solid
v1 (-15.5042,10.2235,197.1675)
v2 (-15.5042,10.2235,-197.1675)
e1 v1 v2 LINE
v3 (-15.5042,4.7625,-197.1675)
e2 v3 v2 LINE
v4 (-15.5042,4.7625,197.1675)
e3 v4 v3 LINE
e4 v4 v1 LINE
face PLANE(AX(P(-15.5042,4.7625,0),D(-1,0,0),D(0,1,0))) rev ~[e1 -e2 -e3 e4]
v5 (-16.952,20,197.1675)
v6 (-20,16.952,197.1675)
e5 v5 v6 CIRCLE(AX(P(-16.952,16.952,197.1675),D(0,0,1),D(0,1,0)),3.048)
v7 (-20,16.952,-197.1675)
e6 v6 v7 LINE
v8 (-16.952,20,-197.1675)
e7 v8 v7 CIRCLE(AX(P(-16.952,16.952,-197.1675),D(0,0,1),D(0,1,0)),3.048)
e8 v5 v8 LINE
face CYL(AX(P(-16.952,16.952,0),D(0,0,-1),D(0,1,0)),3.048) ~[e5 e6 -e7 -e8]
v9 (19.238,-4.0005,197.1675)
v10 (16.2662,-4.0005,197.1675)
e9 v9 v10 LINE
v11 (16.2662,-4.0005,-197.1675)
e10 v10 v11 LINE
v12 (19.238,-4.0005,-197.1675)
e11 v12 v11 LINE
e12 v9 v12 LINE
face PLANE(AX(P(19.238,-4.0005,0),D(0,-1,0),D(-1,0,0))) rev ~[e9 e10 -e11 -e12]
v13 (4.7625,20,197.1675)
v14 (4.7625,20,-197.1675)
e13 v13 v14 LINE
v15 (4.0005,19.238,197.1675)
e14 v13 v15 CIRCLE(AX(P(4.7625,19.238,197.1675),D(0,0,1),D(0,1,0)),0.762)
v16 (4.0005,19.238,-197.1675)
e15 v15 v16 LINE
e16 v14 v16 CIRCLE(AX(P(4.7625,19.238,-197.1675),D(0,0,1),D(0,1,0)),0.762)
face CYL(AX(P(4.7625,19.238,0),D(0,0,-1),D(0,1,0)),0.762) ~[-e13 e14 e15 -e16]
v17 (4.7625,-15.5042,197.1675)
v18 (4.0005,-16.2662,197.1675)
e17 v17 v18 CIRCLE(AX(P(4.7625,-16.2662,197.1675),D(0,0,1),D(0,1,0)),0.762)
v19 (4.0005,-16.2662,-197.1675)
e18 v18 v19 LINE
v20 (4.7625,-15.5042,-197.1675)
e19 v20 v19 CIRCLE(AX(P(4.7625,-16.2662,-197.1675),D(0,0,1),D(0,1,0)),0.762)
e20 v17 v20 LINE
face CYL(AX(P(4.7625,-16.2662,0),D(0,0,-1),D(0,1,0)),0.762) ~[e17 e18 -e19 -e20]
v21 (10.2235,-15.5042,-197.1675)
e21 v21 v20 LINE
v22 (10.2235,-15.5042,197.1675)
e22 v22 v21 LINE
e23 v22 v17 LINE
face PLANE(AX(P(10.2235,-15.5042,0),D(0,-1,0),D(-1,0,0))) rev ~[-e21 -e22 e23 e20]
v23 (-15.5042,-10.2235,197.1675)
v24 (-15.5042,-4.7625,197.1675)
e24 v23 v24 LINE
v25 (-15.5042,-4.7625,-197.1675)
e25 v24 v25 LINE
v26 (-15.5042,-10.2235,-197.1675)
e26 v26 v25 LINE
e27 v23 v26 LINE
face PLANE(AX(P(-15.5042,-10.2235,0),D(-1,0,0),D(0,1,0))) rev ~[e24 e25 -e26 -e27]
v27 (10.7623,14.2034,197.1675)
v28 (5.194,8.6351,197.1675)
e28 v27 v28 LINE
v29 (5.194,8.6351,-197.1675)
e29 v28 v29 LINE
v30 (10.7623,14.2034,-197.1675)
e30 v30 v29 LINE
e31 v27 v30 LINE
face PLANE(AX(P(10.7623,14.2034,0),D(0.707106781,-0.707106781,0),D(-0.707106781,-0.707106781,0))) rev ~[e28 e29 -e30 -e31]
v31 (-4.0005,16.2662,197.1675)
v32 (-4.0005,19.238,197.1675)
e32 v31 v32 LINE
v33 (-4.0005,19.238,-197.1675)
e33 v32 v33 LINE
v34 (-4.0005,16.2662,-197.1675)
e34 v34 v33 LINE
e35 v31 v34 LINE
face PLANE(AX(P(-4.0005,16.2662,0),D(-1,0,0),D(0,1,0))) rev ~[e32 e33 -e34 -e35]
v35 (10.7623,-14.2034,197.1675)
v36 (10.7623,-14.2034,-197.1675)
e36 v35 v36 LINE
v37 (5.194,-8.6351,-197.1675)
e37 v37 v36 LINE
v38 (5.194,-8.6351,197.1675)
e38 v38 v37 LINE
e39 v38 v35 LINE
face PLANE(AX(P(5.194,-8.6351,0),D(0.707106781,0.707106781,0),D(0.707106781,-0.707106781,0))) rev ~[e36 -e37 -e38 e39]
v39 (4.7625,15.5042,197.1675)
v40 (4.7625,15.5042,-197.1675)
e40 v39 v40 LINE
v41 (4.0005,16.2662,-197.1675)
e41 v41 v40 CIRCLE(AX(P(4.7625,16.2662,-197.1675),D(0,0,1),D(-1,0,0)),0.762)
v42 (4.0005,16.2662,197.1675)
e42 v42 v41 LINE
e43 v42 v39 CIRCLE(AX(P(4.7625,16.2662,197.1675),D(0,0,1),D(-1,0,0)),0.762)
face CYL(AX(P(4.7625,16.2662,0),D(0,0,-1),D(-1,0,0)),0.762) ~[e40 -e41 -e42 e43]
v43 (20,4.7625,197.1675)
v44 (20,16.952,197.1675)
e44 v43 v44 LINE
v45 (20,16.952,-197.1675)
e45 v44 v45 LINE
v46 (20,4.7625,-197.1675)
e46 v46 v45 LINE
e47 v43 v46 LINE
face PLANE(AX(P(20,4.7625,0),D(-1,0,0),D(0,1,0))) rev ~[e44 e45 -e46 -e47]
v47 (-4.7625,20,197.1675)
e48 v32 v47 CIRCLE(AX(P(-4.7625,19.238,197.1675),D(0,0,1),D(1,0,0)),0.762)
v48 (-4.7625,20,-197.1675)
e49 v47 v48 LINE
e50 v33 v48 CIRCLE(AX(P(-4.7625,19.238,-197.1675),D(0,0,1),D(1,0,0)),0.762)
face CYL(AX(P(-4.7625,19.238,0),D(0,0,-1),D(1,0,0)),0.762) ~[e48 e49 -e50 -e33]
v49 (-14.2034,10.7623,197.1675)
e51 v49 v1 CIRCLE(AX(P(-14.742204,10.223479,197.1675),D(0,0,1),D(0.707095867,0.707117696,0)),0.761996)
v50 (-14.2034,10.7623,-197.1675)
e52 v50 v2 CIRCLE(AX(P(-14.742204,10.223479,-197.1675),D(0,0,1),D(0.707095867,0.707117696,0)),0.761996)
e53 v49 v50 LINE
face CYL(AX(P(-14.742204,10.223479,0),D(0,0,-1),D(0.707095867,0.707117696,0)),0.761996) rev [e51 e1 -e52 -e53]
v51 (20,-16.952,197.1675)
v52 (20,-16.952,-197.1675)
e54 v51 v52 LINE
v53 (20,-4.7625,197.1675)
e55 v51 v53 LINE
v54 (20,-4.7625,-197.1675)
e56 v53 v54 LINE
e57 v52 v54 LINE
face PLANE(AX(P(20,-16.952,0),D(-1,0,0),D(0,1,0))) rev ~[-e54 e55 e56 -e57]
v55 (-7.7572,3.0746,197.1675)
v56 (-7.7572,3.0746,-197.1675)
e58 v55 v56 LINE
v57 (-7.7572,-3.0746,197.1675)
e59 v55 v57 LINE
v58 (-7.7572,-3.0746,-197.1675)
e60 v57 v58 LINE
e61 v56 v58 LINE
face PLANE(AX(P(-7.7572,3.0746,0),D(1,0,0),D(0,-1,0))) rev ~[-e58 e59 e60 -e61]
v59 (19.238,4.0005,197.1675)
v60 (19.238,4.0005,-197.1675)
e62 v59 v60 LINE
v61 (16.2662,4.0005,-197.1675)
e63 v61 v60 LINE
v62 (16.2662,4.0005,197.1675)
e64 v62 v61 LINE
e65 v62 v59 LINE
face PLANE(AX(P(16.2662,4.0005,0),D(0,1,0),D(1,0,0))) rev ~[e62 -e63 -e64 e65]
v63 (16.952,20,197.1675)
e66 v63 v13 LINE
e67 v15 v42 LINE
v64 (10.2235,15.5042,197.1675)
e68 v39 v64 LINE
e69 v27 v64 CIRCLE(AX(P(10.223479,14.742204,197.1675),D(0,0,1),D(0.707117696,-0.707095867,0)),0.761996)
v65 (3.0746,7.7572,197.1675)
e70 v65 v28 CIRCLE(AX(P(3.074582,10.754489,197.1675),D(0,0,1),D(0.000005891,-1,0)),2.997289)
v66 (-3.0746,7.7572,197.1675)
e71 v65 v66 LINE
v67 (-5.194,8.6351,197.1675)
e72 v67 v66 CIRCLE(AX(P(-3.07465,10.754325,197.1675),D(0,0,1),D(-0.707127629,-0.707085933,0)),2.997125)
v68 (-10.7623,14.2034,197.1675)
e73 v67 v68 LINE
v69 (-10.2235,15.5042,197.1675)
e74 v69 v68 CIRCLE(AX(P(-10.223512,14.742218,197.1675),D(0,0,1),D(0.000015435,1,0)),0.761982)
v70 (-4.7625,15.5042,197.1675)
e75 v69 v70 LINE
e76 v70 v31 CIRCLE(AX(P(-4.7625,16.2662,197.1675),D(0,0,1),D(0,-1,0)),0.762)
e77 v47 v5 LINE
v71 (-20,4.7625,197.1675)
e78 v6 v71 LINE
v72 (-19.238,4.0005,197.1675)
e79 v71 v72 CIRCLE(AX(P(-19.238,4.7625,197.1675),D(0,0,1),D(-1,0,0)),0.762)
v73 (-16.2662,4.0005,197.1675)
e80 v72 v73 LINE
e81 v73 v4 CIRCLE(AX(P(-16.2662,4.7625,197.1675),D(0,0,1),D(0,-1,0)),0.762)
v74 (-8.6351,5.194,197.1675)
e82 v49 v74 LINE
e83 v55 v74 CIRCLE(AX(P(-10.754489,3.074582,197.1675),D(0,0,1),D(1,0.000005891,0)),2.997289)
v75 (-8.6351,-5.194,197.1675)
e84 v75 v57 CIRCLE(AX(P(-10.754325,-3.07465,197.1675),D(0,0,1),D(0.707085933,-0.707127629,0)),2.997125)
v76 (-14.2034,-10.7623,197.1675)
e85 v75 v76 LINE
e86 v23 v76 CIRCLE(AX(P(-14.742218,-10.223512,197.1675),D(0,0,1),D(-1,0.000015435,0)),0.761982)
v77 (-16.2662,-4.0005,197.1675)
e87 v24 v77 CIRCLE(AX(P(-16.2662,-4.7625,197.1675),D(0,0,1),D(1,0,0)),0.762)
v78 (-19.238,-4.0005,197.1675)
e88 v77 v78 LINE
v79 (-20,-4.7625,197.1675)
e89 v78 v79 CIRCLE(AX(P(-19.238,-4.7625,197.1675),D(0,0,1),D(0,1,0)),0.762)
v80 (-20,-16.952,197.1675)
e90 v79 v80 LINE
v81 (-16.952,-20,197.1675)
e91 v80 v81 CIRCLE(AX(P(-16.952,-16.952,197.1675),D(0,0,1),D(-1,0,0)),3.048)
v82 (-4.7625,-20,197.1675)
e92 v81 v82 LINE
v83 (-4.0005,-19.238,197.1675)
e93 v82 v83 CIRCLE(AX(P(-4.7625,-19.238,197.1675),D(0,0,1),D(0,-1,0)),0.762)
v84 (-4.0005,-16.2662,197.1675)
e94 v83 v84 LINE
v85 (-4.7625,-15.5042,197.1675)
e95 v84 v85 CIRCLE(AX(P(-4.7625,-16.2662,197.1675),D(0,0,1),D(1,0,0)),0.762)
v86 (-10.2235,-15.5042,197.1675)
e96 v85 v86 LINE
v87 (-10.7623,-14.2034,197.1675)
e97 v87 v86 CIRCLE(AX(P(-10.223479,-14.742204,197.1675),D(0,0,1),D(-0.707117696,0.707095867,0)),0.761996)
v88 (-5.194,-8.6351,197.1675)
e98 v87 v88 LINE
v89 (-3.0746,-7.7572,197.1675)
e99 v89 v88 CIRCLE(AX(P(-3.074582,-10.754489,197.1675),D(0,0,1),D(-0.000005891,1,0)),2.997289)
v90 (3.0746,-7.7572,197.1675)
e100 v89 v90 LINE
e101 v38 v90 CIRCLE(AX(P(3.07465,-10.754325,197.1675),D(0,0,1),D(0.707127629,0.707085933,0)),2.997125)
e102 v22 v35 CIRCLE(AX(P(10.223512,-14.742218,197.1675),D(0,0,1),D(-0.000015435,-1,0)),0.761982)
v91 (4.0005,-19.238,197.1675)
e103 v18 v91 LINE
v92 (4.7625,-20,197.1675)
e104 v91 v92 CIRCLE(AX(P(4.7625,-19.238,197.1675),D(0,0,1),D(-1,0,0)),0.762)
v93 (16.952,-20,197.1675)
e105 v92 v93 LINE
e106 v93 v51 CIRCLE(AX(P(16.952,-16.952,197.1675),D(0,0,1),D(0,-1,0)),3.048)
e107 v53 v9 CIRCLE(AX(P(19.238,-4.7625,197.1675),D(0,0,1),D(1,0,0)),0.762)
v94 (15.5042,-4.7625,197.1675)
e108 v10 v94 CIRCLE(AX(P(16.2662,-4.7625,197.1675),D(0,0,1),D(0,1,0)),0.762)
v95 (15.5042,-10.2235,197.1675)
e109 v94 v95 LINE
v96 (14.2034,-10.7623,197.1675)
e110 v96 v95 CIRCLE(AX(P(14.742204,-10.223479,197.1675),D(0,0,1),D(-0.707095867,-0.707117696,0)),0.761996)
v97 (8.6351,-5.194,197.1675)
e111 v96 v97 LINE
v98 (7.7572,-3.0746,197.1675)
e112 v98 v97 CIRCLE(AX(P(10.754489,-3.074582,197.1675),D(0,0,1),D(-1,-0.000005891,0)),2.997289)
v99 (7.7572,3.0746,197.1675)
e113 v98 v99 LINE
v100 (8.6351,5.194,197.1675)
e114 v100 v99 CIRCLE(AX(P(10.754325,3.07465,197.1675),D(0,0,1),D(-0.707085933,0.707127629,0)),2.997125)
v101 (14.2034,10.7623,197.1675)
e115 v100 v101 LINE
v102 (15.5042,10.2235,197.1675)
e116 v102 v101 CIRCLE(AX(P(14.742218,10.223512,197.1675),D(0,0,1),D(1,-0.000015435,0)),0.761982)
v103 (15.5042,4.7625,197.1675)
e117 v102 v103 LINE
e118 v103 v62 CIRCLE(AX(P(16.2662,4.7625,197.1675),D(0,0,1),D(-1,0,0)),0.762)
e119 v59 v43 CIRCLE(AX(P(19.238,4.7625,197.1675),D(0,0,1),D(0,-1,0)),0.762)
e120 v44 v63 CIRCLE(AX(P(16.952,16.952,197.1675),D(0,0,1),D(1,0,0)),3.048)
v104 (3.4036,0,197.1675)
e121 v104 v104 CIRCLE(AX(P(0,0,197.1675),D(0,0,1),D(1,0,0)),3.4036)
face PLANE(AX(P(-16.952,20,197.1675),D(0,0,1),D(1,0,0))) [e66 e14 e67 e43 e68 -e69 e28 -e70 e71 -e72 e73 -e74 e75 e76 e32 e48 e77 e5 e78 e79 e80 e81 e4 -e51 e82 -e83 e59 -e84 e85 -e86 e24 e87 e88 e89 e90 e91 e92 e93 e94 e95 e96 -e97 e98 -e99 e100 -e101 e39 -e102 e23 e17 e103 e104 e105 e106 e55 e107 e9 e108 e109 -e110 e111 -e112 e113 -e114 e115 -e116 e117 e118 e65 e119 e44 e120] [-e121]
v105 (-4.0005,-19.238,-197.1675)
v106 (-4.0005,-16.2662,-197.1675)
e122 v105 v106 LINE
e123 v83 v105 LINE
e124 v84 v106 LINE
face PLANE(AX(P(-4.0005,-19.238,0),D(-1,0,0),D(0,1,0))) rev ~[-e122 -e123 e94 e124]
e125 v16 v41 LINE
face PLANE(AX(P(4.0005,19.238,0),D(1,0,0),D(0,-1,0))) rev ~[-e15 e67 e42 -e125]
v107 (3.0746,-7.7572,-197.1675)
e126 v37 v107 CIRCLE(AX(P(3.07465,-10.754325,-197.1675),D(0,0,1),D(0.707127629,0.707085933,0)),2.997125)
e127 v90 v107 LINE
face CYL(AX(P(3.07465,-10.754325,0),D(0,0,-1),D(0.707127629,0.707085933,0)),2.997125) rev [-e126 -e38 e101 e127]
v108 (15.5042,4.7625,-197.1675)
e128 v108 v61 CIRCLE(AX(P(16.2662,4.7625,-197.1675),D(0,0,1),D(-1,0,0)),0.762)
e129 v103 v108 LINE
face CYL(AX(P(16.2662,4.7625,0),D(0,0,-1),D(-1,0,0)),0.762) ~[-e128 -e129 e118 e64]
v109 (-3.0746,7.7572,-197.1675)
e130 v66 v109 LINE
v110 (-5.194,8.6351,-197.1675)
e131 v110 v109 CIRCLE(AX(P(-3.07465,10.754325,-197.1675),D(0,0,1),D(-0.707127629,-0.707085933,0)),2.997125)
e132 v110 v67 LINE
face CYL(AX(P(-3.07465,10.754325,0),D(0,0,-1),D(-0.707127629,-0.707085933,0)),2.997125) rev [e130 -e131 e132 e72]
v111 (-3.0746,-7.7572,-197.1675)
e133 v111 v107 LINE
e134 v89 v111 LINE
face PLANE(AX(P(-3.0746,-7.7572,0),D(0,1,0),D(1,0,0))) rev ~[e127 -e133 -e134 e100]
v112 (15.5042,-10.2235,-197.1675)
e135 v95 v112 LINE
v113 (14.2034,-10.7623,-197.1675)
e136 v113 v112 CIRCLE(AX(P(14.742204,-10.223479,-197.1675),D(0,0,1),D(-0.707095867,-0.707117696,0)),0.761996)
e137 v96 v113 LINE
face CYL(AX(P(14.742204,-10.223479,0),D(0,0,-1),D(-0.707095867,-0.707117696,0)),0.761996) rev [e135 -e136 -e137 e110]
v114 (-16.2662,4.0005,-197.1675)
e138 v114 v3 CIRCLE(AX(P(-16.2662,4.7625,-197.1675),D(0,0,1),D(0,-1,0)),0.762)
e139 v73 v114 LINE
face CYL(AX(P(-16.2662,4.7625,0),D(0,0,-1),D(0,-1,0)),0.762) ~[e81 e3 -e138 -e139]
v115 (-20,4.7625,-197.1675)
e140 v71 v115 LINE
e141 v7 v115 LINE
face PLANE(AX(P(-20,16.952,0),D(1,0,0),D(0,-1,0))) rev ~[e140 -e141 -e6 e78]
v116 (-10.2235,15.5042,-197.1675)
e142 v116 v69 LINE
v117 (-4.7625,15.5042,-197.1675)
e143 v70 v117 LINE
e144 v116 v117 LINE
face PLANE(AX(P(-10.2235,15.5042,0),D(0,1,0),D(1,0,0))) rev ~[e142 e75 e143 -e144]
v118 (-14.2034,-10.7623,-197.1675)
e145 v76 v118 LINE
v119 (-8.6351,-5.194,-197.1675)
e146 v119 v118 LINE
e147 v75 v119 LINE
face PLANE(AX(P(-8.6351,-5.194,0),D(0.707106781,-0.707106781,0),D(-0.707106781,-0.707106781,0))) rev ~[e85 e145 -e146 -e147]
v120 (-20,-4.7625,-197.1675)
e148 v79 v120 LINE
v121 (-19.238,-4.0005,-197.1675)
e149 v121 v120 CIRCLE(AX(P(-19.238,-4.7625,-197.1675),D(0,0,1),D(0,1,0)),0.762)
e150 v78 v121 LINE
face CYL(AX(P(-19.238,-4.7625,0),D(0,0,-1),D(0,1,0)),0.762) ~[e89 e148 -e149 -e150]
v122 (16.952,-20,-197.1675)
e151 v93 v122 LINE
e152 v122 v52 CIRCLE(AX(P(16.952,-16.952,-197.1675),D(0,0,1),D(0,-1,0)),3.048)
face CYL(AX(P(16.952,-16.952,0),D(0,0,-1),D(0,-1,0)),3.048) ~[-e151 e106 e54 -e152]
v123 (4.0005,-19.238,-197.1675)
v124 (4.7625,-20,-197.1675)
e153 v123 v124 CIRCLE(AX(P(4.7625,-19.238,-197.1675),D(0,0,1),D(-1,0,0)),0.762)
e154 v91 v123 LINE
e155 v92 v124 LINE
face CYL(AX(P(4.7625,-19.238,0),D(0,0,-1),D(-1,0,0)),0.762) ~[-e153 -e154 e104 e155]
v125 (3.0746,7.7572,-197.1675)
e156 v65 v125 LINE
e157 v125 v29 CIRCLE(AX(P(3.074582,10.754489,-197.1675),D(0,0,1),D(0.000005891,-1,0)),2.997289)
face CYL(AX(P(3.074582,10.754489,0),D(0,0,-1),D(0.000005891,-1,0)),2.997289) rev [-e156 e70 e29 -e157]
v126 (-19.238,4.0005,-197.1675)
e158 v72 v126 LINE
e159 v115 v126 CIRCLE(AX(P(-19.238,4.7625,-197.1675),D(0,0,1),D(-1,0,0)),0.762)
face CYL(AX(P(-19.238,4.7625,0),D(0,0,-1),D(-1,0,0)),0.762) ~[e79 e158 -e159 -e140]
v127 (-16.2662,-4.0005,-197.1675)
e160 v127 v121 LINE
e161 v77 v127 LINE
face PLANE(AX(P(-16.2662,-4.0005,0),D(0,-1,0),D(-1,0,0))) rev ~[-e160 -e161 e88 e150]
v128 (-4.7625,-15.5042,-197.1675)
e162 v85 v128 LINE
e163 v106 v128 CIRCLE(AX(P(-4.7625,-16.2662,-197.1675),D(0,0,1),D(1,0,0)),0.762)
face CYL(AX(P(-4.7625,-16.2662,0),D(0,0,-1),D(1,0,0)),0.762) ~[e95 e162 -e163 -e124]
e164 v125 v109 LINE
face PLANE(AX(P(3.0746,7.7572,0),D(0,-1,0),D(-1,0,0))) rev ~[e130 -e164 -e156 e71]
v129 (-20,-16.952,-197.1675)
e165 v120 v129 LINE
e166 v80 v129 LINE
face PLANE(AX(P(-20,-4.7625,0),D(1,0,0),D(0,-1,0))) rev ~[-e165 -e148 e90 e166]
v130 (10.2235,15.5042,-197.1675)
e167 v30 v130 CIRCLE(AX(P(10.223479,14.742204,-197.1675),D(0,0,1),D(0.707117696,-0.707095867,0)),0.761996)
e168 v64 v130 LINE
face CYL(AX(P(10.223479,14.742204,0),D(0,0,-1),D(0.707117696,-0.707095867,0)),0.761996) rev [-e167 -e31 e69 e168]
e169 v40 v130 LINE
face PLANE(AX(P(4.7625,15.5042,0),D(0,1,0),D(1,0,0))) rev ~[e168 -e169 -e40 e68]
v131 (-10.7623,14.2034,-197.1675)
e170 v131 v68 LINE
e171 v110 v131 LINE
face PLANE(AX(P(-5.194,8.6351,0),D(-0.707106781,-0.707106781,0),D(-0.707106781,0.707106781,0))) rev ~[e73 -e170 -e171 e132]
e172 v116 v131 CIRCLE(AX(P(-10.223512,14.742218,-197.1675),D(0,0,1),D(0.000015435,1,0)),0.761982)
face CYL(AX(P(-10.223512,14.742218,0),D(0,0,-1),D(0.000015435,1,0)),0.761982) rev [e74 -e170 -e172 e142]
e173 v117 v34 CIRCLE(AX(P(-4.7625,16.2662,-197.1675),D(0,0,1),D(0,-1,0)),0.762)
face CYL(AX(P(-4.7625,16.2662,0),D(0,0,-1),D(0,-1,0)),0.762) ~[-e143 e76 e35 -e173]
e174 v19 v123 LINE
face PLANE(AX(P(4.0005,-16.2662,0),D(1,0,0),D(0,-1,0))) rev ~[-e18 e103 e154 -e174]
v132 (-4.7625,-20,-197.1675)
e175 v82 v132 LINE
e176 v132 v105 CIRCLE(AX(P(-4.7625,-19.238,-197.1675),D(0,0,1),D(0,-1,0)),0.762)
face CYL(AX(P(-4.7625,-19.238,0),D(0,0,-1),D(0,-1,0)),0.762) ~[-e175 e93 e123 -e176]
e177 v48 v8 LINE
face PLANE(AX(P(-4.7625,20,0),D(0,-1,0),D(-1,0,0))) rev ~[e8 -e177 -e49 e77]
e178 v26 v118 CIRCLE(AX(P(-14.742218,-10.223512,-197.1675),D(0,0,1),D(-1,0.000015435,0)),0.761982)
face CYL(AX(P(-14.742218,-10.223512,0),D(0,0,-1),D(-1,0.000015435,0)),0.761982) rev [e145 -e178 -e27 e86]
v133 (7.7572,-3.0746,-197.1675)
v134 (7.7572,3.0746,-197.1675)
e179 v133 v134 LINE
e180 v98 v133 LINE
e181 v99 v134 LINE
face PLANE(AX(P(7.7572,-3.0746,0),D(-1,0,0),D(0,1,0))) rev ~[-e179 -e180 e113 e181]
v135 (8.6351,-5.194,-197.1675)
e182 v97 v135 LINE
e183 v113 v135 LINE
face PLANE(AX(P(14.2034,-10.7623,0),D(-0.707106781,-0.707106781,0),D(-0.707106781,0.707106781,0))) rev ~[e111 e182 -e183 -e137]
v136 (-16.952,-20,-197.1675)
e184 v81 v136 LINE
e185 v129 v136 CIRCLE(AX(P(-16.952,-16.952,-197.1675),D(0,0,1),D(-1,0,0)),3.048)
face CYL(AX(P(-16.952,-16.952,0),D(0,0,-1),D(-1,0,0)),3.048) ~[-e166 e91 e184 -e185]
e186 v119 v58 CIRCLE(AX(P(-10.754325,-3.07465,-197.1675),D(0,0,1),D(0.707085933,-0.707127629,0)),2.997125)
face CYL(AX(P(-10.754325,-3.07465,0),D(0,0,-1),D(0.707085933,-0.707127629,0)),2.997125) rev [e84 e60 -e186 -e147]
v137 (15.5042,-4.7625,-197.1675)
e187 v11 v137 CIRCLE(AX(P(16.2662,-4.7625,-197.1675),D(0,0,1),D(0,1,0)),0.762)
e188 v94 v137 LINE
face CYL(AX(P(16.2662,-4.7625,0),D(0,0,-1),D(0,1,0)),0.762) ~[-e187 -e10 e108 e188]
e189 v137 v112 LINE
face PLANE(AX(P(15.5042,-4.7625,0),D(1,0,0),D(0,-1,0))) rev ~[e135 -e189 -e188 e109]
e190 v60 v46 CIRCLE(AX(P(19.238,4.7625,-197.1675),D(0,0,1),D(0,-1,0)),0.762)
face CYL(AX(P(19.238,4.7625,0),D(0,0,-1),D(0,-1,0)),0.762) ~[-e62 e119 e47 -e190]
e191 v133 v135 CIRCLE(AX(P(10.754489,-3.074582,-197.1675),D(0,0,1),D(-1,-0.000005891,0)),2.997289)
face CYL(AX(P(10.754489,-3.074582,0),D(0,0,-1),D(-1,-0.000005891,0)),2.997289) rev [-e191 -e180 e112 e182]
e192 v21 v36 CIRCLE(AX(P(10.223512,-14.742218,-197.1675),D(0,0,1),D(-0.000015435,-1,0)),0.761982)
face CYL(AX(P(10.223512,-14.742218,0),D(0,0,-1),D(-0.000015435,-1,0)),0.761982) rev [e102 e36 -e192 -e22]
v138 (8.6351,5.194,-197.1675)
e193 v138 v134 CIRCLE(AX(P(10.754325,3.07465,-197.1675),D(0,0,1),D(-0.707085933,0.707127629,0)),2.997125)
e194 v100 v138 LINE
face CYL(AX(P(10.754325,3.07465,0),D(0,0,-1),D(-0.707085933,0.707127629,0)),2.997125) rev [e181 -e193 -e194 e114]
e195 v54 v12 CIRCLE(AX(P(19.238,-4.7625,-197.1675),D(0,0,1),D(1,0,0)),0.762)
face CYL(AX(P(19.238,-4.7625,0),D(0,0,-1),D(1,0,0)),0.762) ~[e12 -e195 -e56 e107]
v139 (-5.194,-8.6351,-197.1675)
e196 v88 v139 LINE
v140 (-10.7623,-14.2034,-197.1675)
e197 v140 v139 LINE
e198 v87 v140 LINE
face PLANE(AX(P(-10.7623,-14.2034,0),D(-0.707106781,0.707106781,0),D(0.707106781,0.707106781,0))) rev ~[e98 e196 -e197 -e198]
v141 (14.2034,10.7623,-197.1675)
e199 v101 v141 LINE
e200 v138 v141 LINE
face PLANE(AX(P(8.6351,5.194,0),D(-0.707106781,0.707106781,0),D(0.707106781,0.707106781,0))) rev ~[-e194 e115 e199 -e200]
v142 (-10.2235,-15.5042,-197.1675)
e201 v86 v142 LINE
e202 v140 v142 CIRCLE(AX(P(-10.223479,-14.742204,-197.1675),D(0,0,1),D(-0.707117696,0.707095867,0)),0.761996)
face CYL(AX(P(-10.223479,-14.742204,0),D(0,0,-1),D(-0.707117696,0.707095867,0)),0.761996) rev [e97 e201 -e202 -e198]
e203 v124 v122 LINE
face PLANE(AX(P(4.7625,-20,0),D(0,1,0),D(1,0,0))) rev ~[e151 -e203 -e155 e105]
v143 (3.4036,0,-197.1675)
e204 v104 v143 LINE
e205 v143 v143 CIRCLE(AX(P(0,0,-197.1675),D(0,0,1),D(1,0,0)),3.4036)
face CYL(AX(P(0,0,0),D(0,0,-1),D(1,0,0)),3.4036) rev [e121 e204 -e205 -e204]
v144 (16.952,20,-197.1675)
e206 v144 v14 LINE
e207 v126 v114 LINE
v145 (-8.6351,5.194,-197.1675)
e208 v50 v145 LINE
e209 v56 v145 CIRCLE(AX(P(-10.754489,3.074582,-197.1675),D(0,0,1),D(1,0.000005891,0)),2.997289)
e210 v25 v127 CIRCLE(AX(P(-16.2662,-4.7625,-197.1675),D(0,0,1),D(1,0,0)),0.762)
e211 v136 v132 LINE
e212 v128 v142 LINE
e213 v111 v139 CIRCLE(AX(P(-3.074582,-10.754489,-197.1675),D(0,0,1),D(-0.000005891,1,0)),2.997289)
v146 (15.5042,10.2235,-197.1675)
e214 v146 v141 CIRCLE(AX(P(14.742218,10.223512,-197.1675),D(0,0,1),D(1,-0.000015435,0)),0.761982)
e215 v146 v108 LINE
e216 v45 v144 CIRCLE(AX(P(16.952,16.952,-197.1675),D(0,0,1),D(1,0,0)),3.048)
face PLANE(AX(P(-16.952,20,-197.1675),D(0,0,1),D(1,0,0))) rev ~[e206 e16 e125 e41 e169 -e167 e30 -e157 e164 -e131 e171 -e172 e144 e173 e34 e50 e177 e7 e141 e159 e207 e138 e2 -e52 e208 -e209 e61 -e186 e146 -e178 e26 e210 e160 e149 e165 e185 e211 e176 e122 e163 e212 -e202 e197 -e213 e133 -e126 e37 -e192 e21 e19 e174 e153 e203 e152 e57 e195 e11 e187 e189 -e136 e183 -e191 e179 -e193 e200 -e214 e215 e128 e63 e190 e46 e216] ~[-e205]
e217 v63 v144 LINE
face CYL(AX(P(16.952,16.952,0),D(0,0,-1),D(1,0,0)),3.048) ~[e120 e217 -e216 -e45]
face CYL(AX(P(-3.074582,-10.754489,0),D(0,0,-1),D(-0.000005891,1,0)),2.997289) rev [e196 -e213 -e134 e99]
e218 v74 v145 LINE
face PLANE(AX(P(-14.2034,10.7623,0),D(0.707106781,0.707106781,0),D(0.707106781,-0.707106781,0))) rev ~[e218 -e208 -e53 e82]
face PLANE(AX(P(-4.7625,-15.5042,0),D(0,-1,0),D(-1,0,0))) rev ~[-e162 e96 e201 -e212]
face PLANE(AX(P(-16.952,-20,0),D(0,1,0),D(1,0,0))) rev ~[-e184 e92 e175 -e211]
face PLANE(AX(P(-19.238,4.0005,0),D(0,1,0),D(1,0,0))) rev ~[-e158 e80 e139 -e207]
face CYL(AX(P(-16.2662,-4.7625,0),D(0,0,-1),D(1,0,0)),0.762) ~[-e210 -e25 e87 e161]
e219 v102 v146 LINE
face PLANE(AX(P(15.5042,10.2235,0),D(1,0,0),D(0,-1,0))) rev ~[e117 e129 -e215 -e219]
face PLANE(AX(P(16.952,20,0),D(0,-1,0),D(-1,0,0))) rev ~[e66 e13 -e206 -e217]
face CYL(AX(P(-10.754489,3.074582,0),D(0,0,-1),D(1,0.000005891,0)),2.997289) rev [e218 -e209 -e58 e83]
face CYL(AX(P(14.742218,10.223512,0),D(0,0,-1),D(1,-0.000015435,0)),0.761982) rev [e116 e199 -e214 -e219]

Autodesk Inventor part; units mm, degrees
ref_plane "YZ Plane" through (0, 0, 0) normal (1, 0, 0) x (0, 1, 0)
ref_plane "XZ Plane" through (0, 0, 0) normal (0, 1, 0) x (-1, 0, 0)
ref_plane "XY Plane" through (0, 0, 0) normal (0, 0, 1) x (1, 0, 0)
sketch "Sketch1" plane through (-16.952, 20, 0) normal (0, 0, 1) x (1, 0, 0)
  arc A0 (11.758, -11.3649) -> (13.8774, -12.2428) centre (13.8774, -9.2456) ccw projected
  line L0 (11.758, -11.3649) -> (6.1897, -5.7966) projected
  arc A1 (6.7285, -4.4958) -> (6.1897, -5.7966) centre (6.7285, -5.2578) ccw projected
  line L1 (6.7285, -4.4958) -> (12.1895, -4.4958) projected
  arc A2 (12.1895, -4.4958) -> (12.9515, -3.7338) centre (12.1895, -3.7338) ccw projected
  line L2 (12.9515, -3.7338) -> (12.9515, -0.762) projected
  arc A3 (12.9515, -0.762) -> (12.1895, 0) centre (12.1895, -0.762) ccw projected
  line L3 (12.1895, 0) -> (0, 0) projected
  arc A4 (0, 0) -> (-3.048, -3.048) centre (0, -3.048) ccw projected
  line L4 (-3.048, -3.048) -> (-3.048, -15.2375) projected
  arc A5 (-3.048, -15.2375) -> (-2.286, -15.9995) centre (-2.286, -15.2375) ccw projected
  line L5 (-2.286, -15.9995) -> (0.6858, -15.9995) projected
  arc A6 (0.6858, -15.9995) -> (1.4478, -15.2375) centre (0.6858, -15.2375) ccw projected
  line L6 (1.4478, -15.2375) -> (1.4478, -9.7765) projected
  arc A7 (2.7486, -9.2377) -> (1.4478, -9.7765) centre (2.2098, -9.7765) ccw projected
  line L7 (2.7486, -9.2377) -> (8.3169, -14.806) projected
  arc A8 (9.1948, -16.9254) -> (8.3169, -14.806) centre (6.1976, -16.9254) ccw projected
  line L8 (9.1948, -16.9254) -> (9.1948, -23.0746) projected
  arc A9 (8.3169, -25.194) -> (9.1948, -23.0746) centre (6.1976, -23.0746) ccw projected
  line L9 (8.3169, -25.194) -> (2.7486, -30.7623) projected
  arc A10 (1.4478, -30.2235) -> (2.7486, -30.7623) centre (2.2098, -30.2235) ccw projected
  line L10 (1.4478, -30.2235) -> (1.4478, -24.7625) projected
  arc A11 (1.4478, -24.7625) -> (0.6858, -24.0005) centre (0.6858, -24.7625) ccw projected
  line L11 (0.6858, -24.0005) -> (-2.286, -24.0005) projected
  arc A12 (-2.286, -24.0005) -> (-3.048, -24.7625) centre (-2.286, -24.7625) ccw projected
  line L12 (-3.048, -24.7625) -> (-3.048, -36.952) projected
  arc A13 (-3.048, -36.952) -> (0, -40) centre (0, -36.952) ccw projected
  line L13 (0, -40) -> (12.1895, -40) projected
  arc A14 (12.1895, -40) -> (12.9515, -39.238) centre (12.1895, -39.238) ccw projected
  line L14 (12.9515, -39.238) -> (12.9515, -36.2662) projected
  arc A15 (12.9515, -36.2662) -> (12.1895, -35.5042) centre (12.1895, -36.2662) ccw projected
  line L15 (12.1895, -35.5042) -> (6.7285, -35.5042) projected
  arc A16 (6.1897, -34.2034) -> (6.7285, -35.5042) centre (6.7285, -34.7422) ccw projected
  line L16 (6.1897, -34.2034) -> (11.758, -28.6351) projected
  arc A17 (13.8774, -27.7572) -> (11.758, -28.6351) centre (13.8774, -30.7544) ccw projected
  line L17 (13.8774, -27.7572) -> (20.0266, -27.7572) projected
  arc A18 (22.146, -28.6351) -> (20.0266, -27.7572) centre (20.0266, -30.7544) ccw projected
  line L18 (22.146, -28.6351) -> (27.7143, -34.2034) projected
  arc A19 (27.1755, -35.5042) -> (27.7143, -34.2034) centre (27.1755, -34.7422) ccw projected
  line L19 (27.1755, -35.5042) -> (21.7145, -35.5042) projected
  arc A20 (21.7145, -35.5042) -> (20.9525, -36.2662) centre (21.7145, -36.2662) ccw projected
  line L20 (20.9525, -36.2662) -> (20.9525, -39.238) projected
  arc A21 (20.9525, -39.238) -> (21.7145, -40) centre (21.7145, -39.238) ccw projected
  line L21 (21.7145, -40) -> (33.904, -40) projected
  arc A22 (33.904, -40) -> (36.952, -36.952) centre (33.904, -36.952) ccw projected
  line L22 (36.952, -36.952) -> (36.952, -24.7625) projected
  arc A23 (36.952, -24.7625) -> (36.19, -24.0005) centre (36.19, -24.7625) ccw projected
  line L23 (36.19, -24.0005) -> (33.2182, -24.0005) projected
  arc A24 (33.2182, -24.0005) -> (32.4562, -24.7625) centre (33.2182, -24.7625) ccw projected
  line L24 (32.4562, -24.7625) -> (32.4562, -30.2235) projected
  arc A25 (31.1554, -30.7623) -> (32.4562, -30.2235) centre (31.6942, -30.2235) ccw projected
  line L25 (31.1554, -30.7623) -> (25.5871, -25.194) projected
  arc A26 (24.7092, -23.0746) -> (25.5871, -25.194) centre (27.7064, -23.0746) ccw projected
  line L26 (24.7092, -23.0746) -> (24.7092, -16.9254) projected
  arc A27 (25.5871, -14.806) -> (24.7092, -16.9254) centre (27.7064, -16.9254) ccw projected
  line L27 (25.5871, -14.806) -> (31.1554, -9.2377) projected
  arc A28 (32.4562, -9.7765) -> (31.1554, -9.2377) centre (31.6942, -9.7765) ccw projected
  line L28 (32.4562, -9.7765) -> (32.4562, -15.2375) projected
  arc A29 (32.4562, -15.2375) -> (33.2182, -15.9995) centre (33.2182, -15.2375) ccw projected
  line L29 (33.2182, -15.9995) -> (36.19, -15.9995) projected
  arc A30 (36.19, -15.9995) -> (36.952, -15.2375) centre (36.19, -15.2375) ccw projected
  line L30 (36.952, -15.2375) -> (36.952, -3.048) projected
  arc A31 (36.952, -3.048) -> (33.904, 0) centre (33.904, -3.048) ccw projected
  line L31 (33.904, 0) -> (21.7145, 0) projected
  arc A32 (21.7145, 0) -> (20.9525, -0.762) centre (21.7145, -0.762) ccw projected
  line L32 (20.9525, -0.762) -> (20.9525, -3.7338) projected
  arc A33 (20.9525, -3.7338) -> (21.7145, -4.4958) centre (21.7145, -3.7338) ccw projected
  line L33 (21.7145, -4.4958) -> (27.1755, -4.4958) projected
  arc A34 (27.7143, -5.7966) -> (27.1755, -4.4958) centre (27.1755, -5.2578) ccw projected
  line L34 (27.7143, -5.7966) -> (22.146, -11.3649) projected
  arc A35 (20.0266, -12.2428) -> (22.146, -11.3649) centre (20.0266, -9.2456) ccw projected
  line L35 (20.0266, -12.2428) -> (13.8774, -12.2428) projected
  circle A36 centre (16.952, -20) radius 3.4036 projected
extrude "Extrusion1" add sketch "Sketch1" along normal mid plane 394.335
